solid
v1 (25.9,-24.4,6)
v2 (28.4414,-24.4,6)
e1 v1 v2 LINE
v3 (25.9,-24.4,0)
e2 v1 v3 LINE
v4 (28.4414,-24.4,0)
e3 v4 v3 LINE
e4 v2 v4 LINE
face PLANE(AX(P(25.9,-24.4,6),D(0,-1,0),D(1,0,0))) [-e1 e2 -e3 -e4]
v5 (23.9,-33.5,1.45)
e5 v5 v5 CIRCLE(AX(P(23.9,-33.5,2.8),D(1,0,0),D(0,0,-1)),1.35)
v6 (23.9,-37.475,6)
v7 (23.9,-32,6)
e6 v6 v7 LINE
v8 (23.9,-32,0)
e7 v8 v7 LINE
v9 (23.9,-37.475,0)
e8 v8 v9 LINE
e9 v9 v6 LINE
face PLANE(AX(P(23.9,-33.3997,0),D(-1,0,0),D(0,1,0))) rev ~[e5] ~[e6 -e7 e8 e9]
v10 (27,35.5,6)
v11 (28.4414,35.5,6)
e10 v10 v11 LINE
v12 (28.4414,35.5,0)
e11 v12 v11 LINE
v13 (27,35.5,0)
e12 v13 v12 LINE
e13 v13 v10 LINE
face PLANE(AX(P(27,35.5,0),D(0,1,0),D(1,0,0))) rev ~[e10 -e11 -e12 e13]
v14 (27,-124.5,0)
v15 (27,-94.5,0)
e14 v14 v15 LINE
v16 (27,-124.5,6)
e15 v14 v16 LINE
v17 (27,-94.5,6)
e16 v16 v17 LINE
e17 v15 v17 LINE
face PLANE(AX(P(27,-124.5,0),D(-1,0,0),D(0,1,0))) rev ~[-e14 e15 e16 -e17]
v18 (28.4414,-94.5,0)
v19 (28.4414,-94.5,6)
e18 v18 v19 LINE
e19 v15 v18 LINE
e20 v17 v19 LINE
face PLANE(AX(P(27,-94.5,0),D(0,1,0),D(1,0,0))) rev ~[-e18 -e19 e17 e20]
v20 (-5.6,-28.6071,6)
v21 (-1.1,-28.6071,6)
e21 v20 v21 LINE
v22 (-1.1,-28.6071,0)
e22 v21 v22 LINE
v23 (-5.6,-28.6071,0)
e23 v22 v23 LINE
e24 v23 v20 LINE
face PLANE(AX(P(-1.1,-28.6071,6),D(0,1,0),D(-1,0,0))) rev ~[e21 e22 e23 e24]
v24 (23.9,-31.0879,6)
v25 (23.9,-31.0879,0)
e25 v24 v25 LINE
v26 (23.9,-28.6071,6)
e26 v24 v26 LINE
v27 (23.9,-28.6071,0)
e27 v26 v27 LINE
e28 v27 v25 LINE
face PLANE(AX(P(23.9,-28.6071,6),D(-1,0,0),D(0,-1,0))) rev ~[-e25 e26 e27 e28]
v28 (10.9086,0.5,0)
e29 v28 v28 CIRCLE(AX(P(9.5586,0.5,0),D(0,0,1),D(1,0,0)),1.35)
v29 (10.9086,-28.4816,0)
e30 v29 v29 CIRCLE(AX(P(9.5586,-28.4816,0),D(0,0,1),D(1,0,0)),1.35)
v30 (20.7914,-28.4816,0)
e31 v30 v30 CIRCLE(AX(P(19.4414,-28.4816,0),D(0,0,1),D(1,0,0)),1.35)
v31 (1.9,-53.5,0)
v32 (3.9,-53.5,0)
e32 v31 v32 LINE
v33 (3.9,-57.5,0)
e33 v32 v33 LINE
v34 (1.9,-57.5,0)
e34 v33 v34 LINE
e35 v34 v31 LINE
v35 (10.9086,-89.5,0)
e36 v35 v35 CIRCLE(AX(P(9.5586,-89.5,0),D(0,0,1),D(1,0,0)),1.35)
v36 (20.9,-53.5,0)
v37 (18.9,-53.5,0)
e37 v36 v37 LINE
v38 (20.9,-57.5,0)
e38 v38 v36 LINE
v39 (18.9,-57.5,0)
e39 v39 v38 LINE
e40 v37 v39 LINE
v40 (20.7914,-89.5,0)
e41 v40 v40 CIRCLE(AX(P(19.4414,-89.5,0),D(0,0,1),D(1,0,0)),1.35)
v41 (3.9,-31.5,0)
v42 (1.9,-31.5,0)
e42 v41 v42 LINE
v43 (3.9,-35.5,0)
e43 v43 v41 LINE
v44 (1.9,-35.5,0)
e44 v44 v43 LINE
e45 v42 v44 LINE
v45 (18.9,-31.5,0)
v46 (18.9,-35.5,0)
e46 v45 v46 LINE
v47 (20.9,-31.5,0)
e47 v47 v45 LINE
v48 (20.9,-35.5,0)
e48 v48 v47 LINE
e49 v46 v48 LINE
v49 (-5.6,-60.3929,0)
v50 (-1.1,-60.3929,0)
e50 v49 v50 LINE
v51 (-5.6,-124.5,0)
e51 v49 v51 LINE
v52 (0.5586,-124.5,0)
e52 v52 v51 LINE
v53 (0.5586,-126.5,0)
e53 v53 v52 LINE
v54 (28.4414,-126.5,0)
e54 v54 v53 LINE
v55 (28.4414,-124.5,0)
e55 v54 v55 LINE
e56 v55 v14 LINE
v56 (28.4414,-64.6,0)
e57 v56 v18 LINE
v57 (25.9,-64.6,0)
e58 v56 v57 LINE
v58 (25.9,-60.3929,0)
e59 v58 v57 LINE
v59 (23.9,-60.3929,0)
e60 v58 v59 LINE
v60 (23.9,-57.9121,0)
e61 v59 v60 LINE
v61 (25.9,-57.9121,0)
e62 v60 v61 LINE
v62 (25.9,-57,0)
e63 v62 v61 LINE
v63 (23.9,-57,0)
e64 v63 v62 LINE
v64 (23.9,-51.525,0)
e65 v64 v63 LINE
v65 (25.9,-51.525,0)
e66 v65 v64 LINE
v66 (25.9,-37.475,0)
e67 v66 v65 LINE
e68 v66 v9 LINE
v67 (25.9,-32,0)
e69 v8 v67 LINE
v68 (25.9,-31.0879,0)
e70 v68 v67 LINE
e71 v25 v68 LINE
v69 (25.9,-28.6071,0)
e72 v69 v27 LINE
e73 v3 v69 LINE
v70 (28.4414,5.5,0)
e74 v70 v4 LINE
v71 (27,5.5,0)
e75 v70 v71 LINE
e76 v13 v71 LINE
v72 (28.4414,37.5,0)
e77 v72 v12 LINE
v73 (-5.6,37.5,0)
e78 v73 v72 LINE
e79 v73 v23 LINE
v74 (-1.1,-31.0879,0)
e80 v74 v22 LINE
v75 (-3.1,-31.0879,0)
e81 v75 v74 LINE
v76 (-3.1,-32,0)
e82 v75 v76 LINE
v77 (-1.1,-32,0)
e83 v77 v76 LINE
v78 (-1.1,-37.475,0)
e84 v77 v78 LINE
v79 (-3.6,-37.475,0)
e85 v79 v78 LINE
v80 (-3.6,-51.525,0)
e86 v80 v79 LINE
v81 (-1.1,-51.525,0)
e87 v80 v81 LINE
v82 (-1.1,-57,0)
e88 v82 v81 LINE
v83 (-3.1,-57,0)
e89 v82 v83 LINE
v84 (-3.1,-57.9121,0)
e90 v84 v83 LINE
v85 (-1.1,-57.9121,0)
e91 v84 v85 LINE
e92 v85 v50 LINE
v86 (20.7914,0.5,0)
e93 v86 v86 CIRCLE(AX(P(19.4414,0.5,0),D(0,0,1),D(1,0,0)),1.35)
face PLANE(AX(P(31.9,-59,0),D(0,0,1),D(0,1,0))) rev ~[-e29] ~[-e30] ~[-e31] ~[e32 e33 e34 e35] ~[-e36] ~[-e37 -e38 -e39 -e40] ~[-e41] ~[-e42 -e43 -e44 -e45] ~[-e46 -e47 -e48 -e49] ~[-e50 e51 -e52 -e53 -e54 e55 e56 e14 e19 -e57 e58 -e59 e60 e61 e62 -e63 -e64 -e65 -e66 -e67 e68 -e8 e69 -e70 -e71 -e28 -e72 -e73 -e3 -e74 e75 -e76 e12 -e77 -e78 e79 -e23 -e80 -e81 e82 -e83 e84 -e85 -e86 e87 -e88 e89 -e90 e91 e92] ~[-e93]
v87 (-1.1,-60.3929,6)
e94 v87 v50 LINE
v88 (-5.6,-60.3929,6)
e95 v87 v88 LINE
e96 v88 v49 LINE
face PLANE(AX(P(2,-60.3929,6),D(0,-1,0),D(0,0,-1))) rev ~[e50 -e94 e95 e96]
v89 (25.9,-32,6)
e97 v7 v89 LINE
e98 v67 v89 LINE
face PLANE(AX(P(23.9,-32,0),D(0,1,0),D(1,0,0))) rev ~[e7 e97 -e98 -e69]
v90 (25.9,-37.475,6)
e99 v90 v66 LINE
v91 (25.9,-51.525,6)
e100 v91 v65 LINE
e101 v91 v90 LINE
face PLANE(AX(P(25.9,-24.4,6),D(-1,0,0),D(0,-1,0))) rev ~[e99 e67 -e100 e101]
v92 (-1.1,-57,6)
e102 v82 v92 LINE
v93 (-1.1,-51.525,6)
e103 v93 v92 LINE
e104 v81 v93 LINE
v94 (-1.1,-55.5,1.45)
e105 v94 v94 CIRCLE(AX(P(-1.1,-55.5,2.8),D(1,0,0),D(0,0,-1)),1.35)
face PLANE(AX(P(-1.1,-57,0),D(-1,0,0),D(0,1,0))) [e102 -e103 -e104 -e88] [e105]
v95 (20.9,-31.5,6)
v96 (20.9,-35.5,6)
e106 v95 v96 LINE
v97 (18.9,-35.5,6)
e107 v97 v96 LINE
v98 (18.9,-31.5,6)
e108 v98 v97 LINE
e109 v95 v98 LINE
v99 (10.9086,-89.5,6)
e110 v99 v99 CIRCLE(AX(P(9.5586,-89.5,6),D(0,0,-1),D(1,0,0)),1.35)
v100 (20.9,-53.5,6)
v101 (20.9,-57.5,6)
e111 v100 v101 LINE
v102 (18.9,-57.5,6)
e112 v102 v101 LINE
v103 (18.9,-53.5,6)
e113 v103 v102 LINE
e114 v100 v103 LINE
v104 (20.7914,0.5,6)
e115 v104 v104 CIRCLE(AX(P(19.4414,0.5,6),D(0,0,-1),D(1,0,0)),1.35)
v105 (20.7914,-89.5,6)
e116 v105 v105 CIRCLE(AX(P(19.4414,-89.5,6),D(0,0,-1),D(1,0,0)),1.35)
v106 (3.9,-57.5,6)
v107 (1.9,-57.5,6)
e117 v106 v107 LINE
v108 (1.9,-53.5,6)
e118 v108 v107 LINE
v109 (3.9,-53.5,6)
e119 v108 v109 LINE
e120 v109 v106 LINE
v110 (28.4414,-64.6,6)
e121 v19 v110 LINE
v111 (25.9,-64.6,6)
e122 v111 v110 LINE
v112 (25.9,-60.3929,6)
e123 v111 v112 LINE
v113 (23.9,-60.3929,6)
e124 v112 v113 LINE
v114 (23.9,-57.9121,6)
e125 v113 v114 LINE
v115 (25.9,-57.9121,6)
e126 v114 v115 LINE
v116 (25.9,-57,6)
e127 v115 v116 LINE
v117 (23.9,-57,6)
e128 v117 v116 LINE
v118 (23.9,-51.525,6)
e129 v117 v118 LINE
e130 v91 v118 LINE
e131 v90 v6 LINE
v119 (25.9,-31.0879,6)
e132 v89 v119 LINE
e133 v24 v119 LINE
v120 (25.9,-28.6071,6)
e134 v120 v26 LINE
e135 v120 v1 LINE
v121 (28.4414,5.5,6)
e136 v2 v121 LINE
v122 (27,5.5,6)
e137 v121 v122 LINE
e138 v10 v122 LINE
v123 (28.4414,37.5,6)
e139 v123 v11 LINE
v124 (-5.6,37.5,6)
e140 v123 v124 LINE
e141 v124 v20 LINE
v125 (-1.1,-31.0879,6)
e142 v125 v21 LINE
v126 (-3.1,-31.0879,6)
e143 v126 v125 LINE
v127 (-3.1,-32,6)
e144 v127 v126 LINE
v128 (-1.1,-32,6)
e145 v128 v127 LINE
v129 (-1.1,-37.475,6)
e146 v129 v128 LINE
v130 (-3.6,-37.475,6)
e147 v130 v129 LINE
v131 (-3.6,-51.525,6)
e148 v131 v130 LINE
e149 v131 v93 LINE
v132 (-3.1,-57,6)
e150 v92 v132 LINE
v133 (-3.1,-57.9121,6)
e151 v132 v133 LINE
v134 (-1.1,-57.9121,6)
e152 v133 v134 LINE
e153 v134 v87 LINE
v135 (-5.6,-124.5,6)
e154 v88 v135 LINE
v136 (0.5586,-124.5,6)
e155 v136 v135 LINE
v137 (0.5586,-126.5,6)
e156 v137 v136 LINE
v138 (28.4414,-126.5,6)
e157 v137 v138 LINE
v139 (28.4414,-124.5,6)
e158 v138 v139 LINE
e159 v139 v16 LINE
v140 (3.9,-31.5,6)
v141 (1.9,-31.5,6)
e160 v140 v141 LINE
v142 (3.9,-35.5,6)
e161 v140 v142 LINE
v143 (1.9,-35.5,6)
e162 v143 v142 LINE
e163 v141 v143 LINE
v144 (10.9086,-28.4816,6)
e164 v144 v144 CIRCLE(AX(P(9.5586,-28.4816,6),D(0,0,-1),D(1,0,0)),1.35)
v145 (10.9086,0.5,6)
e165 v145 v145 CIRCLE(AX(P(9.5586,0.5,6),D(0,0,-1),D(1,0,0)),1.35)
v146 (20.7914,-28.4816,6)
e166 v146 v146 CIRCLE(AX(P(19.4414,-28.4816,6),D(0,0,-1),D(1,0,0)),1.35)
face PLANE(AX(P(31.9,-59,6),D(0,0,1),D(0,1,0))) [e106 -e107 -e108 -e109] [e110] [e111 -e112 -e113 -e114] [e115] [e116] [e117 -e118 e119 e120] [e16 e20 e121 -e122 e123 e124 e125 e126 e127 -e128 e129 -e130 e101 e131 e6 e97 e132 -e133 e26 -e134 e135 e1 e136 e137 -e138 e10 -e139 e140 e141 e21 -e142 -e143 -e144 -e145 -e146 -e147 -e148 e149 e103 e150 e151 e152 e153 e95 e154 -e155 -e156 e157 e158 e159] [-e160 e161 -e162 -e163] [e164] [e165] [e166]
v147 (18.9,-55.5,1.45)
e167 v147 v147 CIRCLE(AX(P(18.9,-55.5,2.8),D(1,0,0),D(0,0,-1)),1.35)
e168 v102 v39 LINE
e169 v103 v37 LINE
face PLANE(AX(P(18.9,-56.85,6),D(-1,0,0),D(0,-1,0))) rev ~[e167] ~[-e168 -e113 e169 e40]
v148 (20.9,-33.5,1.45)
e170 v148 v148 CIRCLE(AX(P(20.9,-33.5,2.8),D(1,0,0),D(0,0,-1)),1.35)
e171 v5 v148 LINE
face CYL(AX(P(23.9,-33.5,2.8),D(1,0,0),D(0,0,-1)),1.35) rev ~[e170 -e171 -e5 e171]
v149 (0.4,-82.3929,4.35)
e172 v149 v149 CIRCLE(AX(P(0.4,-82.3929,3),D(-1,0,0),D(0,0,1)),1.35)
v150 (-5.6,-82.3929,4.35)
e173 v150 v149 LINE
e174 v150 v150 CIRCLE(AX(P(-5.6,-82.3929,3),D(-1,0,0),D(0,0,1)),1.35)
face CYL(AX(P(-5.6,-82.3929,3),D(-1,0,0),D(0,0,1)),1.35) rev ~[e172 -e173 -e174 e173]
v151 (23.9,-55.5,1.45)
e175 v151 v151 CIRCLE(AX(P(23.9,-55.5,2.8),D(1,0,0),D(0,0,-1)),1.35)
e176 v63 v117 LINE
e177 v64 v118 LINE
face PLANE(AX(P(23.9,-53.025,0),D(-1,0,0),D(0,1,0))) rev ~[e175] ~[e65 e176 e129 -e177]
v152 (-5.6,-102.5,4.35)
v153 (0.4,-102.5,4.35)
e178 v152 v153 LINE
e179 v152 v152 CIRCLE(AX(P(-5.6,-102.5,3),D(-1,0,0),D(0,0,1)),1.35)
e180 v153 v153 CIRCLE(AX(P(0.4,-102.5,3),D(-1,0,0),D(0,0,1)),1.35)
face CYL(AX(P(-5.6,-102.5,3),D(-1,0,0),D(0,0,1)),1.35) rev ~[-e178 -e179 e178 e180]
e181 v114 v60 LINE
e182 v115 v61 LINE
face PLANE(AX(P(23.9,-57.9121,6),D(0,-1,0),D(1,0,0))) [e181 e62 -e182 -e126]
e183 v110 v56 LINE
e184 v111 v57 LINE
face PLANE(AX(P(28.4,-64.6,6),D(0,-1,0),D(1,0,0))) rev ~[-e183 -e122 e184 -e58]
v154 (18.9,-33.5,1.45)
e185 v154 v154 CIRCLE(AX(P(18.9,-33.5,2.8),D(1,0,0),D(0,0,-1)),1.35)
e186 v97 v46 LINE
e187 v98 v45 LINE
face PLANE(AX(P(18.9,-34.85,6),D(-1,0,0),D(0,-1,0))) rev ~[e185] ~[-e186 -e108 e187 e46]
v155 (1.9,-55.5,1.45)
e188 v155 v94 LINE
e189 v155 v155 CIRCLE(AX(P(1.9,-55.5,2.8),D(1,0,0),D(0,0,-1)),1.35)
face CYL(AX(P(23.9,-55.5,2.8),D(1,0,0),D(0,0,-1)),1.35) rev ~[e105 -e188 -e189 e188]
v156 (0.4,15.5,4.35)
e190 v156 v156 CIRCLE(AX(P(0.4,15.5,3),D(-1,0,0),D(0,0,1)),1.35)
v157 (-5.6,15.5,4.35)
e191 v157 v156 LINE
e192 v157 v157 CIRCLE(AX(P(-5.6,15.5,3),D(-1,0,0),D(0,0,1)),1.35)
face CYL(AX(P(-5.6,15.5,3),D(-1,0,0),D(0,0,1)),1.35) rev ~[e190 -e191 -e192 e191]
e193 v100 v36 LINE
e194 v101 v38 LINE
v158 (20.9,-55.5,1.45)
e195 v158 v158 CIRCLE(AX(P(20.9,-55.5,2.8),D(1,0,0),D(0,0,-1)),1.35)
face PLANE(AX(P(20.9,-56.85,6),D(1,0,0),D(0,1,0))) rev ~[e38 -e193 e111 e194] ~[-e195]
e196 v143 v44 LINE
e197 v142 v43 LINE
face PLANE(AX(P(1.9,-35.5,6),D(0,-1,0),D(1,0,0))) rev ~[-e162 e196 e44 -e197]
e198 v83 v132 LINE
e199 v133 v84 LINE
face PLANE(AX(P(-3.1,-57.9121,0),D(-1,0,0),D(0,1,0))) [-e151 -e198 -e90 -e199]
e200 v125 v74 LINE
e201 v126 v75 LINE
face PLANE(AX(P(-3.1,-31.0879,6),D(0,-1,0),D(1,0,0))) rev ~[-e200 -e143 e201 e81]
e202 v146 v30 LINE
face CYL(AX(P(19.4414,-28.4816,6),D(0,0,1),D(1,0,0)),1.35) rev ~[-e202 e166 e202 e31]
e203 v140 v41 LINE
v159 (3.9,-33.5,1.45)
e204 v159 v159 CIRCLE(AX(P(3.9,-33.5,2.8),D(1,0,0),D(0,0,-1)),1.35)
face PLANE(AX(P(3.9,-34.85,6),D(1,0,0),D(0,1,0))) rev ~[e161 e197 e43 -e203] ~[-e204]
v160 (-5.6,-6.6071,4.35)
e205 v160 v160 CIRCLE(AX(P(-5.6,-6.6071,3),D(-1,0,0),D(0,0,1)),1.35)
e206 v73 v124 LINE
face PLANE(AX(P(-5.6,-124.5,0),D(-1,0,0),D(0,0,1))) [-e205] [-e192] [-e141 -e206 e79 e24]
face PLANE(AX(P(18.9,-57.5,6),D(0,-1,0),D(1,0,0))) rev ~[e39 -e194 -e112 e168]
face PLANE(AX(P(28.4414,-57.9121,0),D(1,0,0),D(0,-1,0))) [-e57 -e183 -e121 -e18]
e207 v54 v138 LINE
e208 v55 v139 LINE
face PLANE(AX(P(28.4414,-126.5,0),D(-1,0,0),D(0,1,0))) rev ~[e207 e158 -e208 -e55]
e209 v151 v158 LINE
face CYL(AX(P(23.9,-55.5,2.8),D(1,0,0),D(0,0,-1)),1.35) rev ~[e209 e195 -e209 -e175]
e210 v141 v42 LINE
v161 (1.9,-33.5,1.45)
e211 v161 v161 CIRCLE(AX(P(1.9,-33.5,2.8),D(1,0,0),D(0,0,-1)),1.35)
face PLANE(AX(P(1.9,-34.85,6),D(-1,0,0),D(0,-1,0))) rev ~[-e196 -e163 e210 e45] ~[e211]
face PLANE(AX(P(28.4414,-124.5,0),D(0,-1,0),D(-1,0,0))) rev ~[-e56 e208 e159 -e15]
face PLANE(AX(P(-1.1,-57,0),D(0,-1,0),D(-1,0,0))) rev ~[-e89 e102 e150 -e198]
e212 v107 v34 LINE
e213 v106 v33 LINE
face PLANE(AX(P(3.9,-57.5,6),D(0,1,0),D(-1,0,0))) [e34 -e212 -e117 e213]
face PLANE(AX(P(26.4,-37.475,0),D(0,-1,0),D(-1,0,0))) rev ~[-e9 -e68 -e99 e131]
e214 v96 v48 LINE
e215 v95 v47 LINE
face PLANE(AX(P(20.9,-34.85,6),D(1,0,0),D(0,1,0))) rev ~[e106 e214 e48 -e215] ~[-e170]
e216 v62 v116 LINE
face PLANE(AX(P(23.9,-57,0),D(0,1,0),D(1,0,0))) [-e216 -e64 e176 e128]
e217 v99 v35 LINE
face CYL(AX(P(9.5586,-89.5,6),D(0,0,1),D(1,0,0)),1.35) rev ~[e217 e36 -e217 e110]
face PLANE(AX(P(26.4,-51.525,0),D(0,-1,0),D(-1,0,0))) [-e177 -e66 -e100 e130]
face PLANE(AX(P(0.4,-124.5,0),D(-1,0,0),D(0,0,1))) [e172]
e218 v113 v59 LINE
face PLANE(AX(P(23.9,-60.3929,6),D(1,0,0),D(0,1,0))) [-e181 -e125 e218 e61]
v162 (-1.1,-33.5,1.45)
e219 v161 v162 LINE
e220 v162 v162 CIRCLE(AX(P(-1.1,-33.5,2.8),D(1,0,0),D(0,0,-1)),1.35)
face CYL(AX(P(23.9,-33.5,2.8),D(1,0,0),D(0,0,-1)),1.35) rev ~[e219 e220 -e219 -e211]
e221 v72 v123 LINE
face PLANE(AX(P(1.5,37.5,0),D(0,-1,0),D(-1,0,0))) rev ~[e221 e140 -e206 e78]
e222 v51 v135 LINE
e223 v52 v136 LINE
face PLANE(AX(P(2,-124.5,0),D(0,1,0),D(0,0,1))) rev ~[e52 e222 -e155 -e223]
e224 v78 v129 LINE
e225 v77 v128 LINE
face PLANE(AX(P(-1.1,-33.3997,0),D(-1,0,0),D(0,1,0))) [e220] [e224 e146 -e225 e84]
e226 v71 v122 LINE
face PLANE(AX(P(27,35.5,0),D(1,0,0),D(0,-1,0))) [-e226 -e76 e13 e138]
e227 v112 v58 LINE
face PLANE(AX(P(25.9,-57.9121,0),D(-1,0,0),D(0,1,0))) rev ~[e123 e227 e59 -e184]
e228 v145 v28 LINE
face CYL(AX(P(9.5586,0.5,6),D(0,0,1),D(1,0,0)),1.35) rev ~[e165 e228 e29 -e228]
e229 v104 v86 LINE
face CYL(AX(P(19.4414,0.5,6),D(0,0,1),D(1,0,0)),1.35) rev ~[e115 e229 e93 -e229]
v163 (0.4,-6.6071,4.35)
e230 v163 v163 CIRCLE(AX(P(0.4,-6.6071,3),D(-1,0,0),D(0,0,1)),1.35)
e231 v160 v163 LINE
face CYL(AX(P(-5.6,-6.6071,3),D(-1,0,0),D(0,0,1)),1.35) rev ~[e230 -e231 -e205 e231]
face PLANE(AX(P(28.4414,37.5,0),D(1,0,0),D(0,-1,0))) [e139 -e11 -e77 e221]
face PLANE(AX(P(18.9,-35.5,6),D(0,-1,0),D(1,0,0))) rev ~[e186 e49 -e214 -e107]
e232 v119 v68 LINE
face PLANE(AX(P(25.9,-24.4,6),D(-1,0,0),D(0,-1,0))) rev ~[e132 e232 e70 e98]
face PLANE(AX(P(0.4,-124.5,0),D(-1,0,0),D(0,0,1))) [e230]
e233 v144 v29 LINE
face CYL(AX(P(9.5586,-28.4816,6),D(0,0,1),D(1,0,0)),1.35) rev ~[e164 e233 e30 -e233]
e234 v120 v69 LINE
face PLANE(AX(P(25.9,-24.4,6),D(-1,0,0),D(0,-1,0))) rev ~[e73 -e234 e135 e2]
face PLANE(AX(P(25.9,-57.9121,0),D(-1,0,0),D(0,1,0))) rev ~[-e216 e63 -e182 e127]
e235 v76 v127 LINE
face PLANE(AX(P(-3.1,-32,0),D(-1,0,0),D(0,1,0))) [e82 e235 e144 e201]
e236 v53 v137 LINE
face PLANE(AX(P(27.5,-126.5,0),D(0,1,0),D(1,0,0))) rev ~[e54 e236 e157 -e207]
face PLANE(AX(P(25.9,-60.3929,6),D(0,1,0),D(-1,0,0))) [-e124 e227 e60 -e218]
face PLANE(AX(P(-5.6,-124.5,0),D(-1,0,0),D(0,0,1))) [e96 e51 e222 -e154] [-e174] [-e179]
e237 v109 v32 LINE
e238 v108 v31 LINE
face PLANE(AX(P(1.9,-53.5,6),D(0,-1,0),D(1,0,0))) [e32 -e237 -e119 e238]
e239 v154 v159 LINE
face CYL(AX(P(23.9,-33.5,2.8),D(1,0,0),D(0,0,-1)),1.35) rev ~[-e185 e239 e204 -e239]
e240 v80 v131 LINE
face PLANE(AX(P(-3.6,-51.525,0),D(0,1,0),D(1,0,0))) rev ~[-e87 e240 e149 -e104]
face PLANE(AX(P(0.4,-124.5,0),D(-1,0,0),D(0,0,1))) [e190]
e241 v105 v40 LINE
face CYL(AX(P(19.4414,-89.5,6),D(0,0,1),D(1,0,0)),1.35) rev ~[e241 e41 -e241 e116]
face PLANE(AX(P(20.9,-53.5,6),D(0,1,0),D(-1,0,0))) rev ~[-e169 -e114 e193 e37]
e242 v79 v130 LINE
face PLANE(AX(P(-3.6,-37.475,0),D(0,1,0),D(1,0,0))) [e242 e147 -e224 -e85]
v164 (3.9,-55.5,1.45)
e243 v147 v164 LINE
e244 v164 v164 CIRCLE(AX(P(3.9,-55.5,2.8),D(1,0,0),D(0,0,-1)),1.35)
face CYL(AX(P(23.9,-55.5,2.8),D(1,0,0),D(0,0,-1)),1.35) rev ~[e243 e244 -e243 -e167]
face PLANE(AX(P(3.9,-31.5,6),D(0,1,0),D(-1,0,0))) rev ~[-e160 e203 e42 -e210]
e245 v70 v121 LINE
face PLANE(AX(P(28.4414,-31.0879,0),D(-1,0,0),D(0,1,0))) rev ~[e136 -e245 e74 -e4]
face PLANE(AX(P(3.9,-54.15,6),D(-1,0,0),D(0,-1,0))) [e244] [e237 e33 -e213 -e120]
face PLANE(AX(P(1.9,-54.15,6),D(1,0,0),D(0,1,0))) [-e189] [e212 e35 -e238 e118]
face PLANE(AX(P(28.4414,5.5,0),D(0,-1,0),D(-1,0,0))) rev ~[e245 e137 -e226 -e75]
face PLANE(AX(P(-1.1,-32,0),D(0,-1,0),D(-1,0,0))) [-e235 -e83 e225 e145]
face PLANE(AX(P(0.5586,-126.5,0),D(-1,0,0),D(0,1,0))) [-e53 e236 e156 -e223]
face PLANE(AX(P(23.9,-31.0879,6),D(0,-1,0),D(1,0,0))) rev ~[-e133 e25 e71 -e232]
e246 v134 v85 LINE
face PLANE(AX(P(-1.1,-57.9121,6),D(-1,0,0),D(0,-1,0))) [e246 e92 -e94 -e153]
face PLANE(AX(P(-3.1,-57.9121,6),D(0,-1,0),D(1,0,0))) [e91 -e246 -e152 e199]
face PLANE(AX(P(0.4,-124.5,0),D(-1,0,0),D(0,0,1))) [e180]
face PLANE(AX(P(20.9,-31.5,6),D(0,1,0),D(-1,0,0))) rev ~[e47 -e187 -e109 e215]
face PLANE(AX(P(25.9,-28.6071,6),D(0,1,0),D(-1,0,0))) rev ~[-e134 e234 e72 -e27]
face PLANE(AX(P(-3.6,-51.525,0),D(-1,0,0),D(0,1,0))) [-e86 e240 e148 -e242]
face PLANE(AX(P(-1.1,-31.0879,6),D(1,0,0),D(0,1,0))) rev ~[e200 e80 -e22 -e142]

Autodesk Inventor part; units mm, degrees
ref_plane "YZ Plane" through (0, 0, 0) normal (1, 0, 0) x (0, 1, 0)
ref_plane "XZ Plane" through (0, 0, 0) normal (0, 1, 0) x (-1, 0, 0)
ref_plane "작업 평면1" through (31.9, -59, 0) normal (0, 0, 1) x (0, 1, 0)
ref_plane "작업 평면2" through (31.9, -59, 0) normal (0, 0, 1) x (0, 1, 0)
sketch "스케치2" plane through (31.9, -59, 0) normal (0, 0, 1) x (0, 1, 0)
  line L0 (27, 33) -> (27, 8) projected
  line L1 (25.6003, 33) -> (27, 33) projected
  line L2 (25.3997, 33) -> (25.6003, 33) projected
  line L3 (21.525, 33) -> (25.3997, 33) projected
  line L4 (21.525, 35.5) -> (21.525, 33) projected
  line L5 (7.475, 35.5) -> (21.525, 35.5) projected
  line L6 (7.475, 35.5) -> (7.475, 33) projected
  line L7 (3.6003, 33) -> (7.475, 33) projected
  line L8 (3.3997, 33) -> (3.6003, 33) projected
  line L9 (2, 33) -> (3.3997, 33) projected
  line L10 (2, 33) -> (2, 8) projected
  line L11 (2, 8) -> (3.3997, 8) projected
  line L12 (3.3997, 8) -> (3.6003, 8) projected
  line L13 (3.6003, 8) -> (7.475, 8) projected
  line L14 (7.475, 5.5) -> (7.475, 8) projected
  line L15 (7.475, 5.5) -> (21.525, 5.5) projected
  line L16 (21.525, 5.5) -> (21.525, 8) projected
  line L17 (21.525, 8) -> (25.3997, 8) projected
  line L18 (25.3997, 8) -> (25.6003, 8) projected
  line L19 (25.6003, 8) -> (27, 8) projected
  line L20 (96.5, 31.3414) -> (94.5, 31.3414) projected
  line L21 (94.5, 31.3414) -> (94.5, 29.9) projected
  line L22 (94.5, 29.9) -> (64.5, 29.9) projected
  line L23 (64.5, 29.9) -> (64.5, 31.3414) projected
  line L24 (64.5, 31.3414) -> (62.5, 31.3414) projected
  line L25 (62.5, 31.3414) -> (62.5, 25.05) projected
  line L26 (62.5, 9.75) -> (62.5, 25.05) projected
  line L27 (62.5, 9.75) -> (62.5, 3.4586) projected
  line L28 (64.5, 3.4586) -> (62.5, 3.4586) projected
  line L29 (64.5, 3.4586) -> (64.5, 4.9) projected
  line L30 (94.5, 4.9) -> (64.5, 4.9) projected
  line L31 (94.5, 4.9) -> (94.5, 3.4586) projected
  line L32 (96.5, 3.4586) -> (94.5, 3.4586) projected
  line L33 (96.5, 3.4586) -> (96.5, 4.4) projected
  line L34 (96.5, 4.4) -> (98, 4.4) projected
  line L35 (98, 30.4) -> (98, 4.4) projected
  line L36 (98, 30.4) -> (96.5, 30.4) projected
  line L37 (96.5, 30.4) -> (96.5, 31.3414) projected
  line L38 (-67.5, 3.4586) -> (-65.5, 3.4586) projected
  line L39 (-65.5, 3.4586) -> (-65.5, 4.9) projected
  line L40 (-65.5, 4.9) -> (-35.5, 4.9) projected
  line L41 (-35.5, 4.9) -> (-35.5, 3.4586) projected
  line L42 (-35.5, 3.4586) -> (-33.5, 3.4586) projected
  line L43 (-33.5, 3.4586) -> (-33.5, 9.75) projected
  line L44 (-33.5, 25.05) -> (-33.5, 9.75) projected
  line L45 (-33.5, 25.05) -> (-33.5, 31.3414) projected
  line L46 (-35.5, 31.3414) -> (-33.5, 31.3414) projected
  line L47 (-35.5, 31.3414) -> (-35.5, 29.9) projected
  line L48 (-65.5, 29.9) -> (-35.5, 29.9) projected
  line L49 (-65.5, 29.9) -> (-65.5, 31.3414) projected
  line L50 (-67.5, 31.3414) -> (-65.5, 31.3414) projected
  line L51 (-67.5, 31.3414) -> (-67.5, 30.4) projected
  line L52 (-67.5, 30.4) -> (-69, 30.4) projected
  line L53 (-69, 4.4) -> (-69, 30.4) projected
  line L54 (-69, 4.4) -> (-67.5, 4.4) projected
  line L55 (-67.5, 4.4) -> (-67.5, 3.4586) projected
  line L56 (27.9121, 35) -> (27.9121, 37.5) projected
  line L57 (1.0879, 37.5) -> (27.9121, 37.5) projected
  line L58 (1.0879, 37.5) -> (1.0879, 35) projected
  line L59 (1.0879, 35) -> (5.975, 35) projected
  line L60 (5.975, 33) -> (5.975, 35) projected
  line L61 (5.975, 33) -> (7.475, 33) projected
  line L62 (7.475, 33) -> (7.475, 35.5) projected
  line L63 (7.475, 35.5) -> (21.525, 35.5) projected
  line L64 (21.525, 33) -> (21.525, 35.5) projected
  line L65 (21.525, 33) -> (23.025, 33) projected
  line L66 (23.025, 33) -> (23.025, 35) projected
  line L67 (23.025, 35) -> (27.9121, 35) projected
  line L68 (27.9121, 3.5) -> (27.9121, 6) projected
  line L69 (23.025, 6) -> (27.9121, 6) projected
  line L70 (23.025, 8) -> (23.025, 6) projected
  line L71 (21.525, 8) -> (23.025, 8) projected
  line L72 (21.525, 8) -> (21.525, 5.5) projected
  line L73 (7.475, 5.5) -> (21.525, 5.5) projected
  line L74 (7.475, 8) -> (7.475, 5.5) projected
  line L75 (5.975, 8) -> (7.475, 8) projected
  line L76 (5.975, 8) -> (5.975, 6) projected
  line L77 (1.0879, 6) -> (5.975, 6) projected
  line L78 (1.0879, 6) -> (1.0879, 3.5) projected
  line L79 (1.0879, 3.5) -> (27.9121, 3.5) projected
  line L80 (27, 33) -> (27, 35)
  line L81 (2, 33) -> (2, 35)
  line L82 (2, 8) -> (2, 6)
  line L83 (27, 8) -> (27, 6)
  line L84 (-33.5, 3.4586) -> (-33.5, 31.3414)
  line L85 (-33.5, 31.3414) -> (1.0879, 31.3414)
  line L86 (1.0879, 31.3414) -> (1.0879, 3.4586)
  line L87 (1.0879, 3.4586) -> (-33.5, 3.4586)
  line L88 (1.0879, 31.3414) -> (2, 31.3414)
  line L89 (2, 31.3414) -> (2, 6)
  line L90 (2, 6) -> (1.0879, 6)
  line L91 (1.0879, 6) -> (1.0879, 31.3414)
  line L92 (62.5, 3.4586) -> (62.5, 31.3414)
  line L93 (62.5, 31.3414) -> (27.9121, 31.3414)
  line L94 (27.9121, 31.3414) -> (27.9121, 3.4586)
  line L95 (27.9121, 3.4586) -> (62.5, 3.4586)
  line L96 (27.9121, 35) -> (27.9121, 31.3414)
  line L97 (27.9121, 31.3414) -> (27.9121, 35)
  line L98 (27.9121, 35) -> (62.5, 35)
  line L99 (62.5, 35) -> (62.5, 31.3414)
  line L100 (62.5, 31.3414) -> (27.9121, 31.3414)
  line L101 (2, 31.3414) -> (2, 35)
  line L102 (2, 35) -> (-33.5, 35)
  line L103 (-33.5, 35) -> (-33.5, 31.3414)
  line L104 (-33.5, 31.3414) -> (2, 31.3414)
  point P0 (59, 31.9)
  point P1 (1.0879, 3.5)
  point P2 (27.9121, 3.5)
  point P3 (1.0879, 35)
extrude "돌출1" add sketch "스케치2" along normal blind 6 contours L80 L67 L96 L94 L69 L83 L0 | L0 L19 L18 L17 L16 L15 L14 L13 L12 L11 L10 L9 L8 L7 L6 L5 L4 L3 L2 L1 | L98 L99 L93 L96 | L94 L93 L25 L26 L27 L95 L68 | L24 L23 L22 L21 L20 L37 L36 L35 L34 L33 L32 L31 L30 L29 L28 L27 L26 L25 | L86 L87 L43 L44 L45 L85 L78 | L59 L81 L10 L88 L85 L103 L102 | L86 L88 L10 L82 L77 | L42 L41 L40 L39 L38 L55 L54 L53 L52 L51 L50 L49 L48 L47 L46 L45 L44 L43
sketch "스케치4" plane through (31.9, -59, 6) normal (0, 0, 1) x (1, 0, 0)
  line L0 (-6, 34.6) -> (-3.5, 34.6) projected
  line L1 (-6, -5.6) -> (-3.5, -5.6) projected
  line L2 (-37.5, -5.6) -> (-35, -5.6) projected
  line L3 (-3.5, 34.6) -> (-6, 34.6)
  line L4 (-6, 34.6) -> (-6, 27.9121)
  line L5 (-6, 27.9121) -> (-3.5, 27.9121)
  line L6 (-3.5, 27.9121) -> (-3.5, 34.6)
  line L7 (-3.5, -5.6) -> (-6, -5.6)
  line L8 (-6, -5.6) -> (-6, 1.0804)
  line L9 (-6, 1.0804) -> (-3.5, 1.0804)
  line L10 (-3.5, 1.0804) -> (-3.5, -5.6)
  line L11 (-3.4586, -35.5) -> (-3.4586, 1.0879) projected
  line L12 (-6, -5.6) -> (-3.4586, -5.6)
  line L13 (-3.4586, -5.6) -> (-3.4586, 34.6)
  line L14 (-3.4586, 34.6) -> (-6, 34.6)
  line L15 (-6, 34.6) -> (-6, -5.6)
  point P0 (-31.9, 59)
  point P1 (-6, 27.9121)
  point P2 (-6, 1.0804)
  point P3 (-3.5, -5.6)
  point P4 (-3.4586, 1.0879)
  point P5 (-3.5, 34.6)
extrude "돌출2" cut sketch "스케치4" against normal blind 6
sketch "스케치5" plane through (31.9, -59, 6) normal (0, 0, 1) x (1, 0, 0)
  line L0 (-8, 28.9421) -> (-6, 28.9421) projected
  line L1 (-6, 30.3929) -> (-3.5, 30.3929) projected
  line L2 (-6, -1.3929) -> (-3.5, -1.3929) projected
  line L3 (-6, 1.0879) -> (-3.5, 1.0879) projected
  line L4 (-35, 27.9121) -> (-37.5, 27.9121) projected
  line L5 (-37.5, 30.3929) -> (-35, 30.3929) projected
  line L6 (-37.5, 1.0879) -> (-35, 1.0879) projected
  line L7 (-37.5, -1.3929) -> (-35, -1.3929) projected
  line L8 (-3.5, 27.9121) -> (-6, 27.9121) projected
  line L9 (-35, 30.3929) -> (-35, 27.9121)
  line L10 (-35, 27.9121) -> (-33, 27.9121)
  line L11 (-33, 27.9121) -> (-33, 30.3929)
  line L12 (-33, 30.3929) -> (-35, 30.3929)
  line L13 (-35, 62.5) -> (-35, 27) projected
  line L14 (-6, 27.9121) -> (-6, 30.3929)
  line L15 (-6, 30.3929) -> (-8, 30.3929)
  line L16 (-8, 30.3929) -> (-8, 27.9121)
  line L17 (-8, 27.9121) -> (-6, 27.9121)
  line L18 (-6, 1.0879) -> (-6, -1.3929)
  line L19 (-6, -1.3929) -> (-8, -1.3929)
  line L20 (-8, -1.3929) -> (-8, 1.0879)
  line L21 (-8, 1.0879) -> (-6, 1.0879)
  line L22 (-35, -1.3929) -> (-35, 1.0879)
  line L23 (-35, 1.0879) -> (-33, 1.0879)
  line L24 (-33, 1.0879) -> (-33, -1.3929)
  line L25 (-33, -1.3929) -> (-35, -1.3929)
  point P0 (-31.9, 59)
  dimension "d4" = 2
  dimension "d5" = 2
extrude "돌출3" cut sketch "스케치5" against normal blind 6
sketch "스케치6" plane through (23.9, -37.475, 0) normal (1, 0, 0) x (0, 0, -1)
  circle A0 centre (-2.8, 3.975) radius 1.35 projected
  circle A1 centre (-2.8, -18.025) radius 1.35 projected
  point P0 (0, 37.475)
extrude "돌출4" cut sketch "스케치6" against normal up to surface (25 mm away)
sketch "스케치7" plane through (31.9, -59, 6) normal (0, 0, 1) x (1, 0, 0)
  line L0 (-8, 26.85) -> (-33, 26.85) projected
  line L1 (-8, 24.15) -> (-33, 24.15) projected
  line L2 (-8, 4.85) -> (-33, 4.85) projected
  line L3 (-8, 2.15) -> (-33, 2.15) projected
  line L4 (-33, 26.85) -> (-33, 24.15)
  line L5 (-33, 24.15) -> (-29, 24.15)
  line L6 (-29, 24.15) -> (-29, 26.85)
  line L7 (-29, 26.85) -> (-33, 26.85)
  line L8 (-33, 27) -> (-33, 21.525) projected
  line L9 (-33, 2.15) -> (-33, 4.85)
  line L10 (-33, 4.85) -> (-29, 4.85)
  line L11 (-29, 4.85) -> (-29, 2.15)
  line L12 (-29, 2.15) -> (-33, 2.15)
  line L13 (-8, 4.85) -> (-8, 2.15)
  line L14 (-8, 2.15) -> (-12, 2.15)
  line L15 (-12, 2.15) -> (-12, 4.85)
  line L16 (-12, 4.85) -> (-8, 4.85)
  line L17 (-8, 26.85) -> (-8, 24.15)
  line L18 (-8, 24.15) -> (-12, 24.15)
  line L19 (-12, 24.15) -> (-12, 26.85)
  line L20 (-12, 26.85) -> (-8, 26.85)
  line L21 (-13, 27.5) -> (-13, 23.5)
  line L22 (-13, 23.5) -> (-11, 23.5)
  line L23 (-11, 23.5) -> (-11, 27.5)
  line L24 (-11, 27.5) -> (-13, 27.5)
  line L25 (-13, 27.5) -> (-11, 23.5) construction
  line L26 (-13, 23.5) -> (-11, 27.5) construction
  line L27 (-30, 27.5) -> (-30, 23.5)
  line L28 (-30, 23.5) -> (-28, 23.5)
  line L29 (-28, 23.5) -> (-28, 27.5)
  line L30 (-28, 27.5) -> (-30, 27.5)
  line L31 (-30, 27.5) -> (-28, 23.5) construction
  line L32 (-30, 23.5) -> (-28, 27.5) construction
  line L33 (-11, 1.5) -> (-11, 5.5)
  line L34 (-11, 5.5) -> (-13, 5.5)
  line L35 (-13, 5.5) -> (-13, 1.5)
  line L36 (-13, 1.5) -> (-11, 1.5)
  line L37 (-11, 1.5) -> (-13, 5.5) construction
  line L38 (-11, 5.5) -> (-13, 1.5) construction
  line L39 (-30, 1.5) -> (-30, 5.5)
  line L40 (-30, 5.5) -> (-28, 5.5)
  line L41 (-28, 5.5) -> (-28, 1.5)
  line L42 (-28, 1.5) -> (-30, 1.5)
  line L43 (-30, 1.5) -> (-28, 5.5) construction
  line L44 (-30, 5.5) -> (-28, 1.5) construction
  point P0 (-31.9, 59)
  point P1 (-12, 25.5)
  point P2 (-29, 25.5)
  point P3 (-12, 3.5)
  point P4 (-29, 3.5)
  dimension "d10" = 4
  dimension "d11" = 4
  dimension "d12" = 4
  dimension "d13" = 4
  dimension "d14" = 4
  dimension "d15" = 2
  dimension "d16" = 4
  dimension "d17" = 2
  dimension "d18" = 4
extrude "돌출5" cut sketch "스케치7" against normal blind 10 contours L23 L1 L19 L0 | L0 L21 L24 L23 | L19 L1 L21 L0 | L23 L22 L21 L1 | L29 L1 L6 L0 | L0 L27 L30 L29 | L6 L1 L27 L0 | L29 L28 L27 L1 | L33 L3 L15 L2 | L2 L35 L34 L33 | L15 L3 L35 L2 | L33 L36 L35 L3 | L41 L3 L11 L2 | L2 L39 L40 L41 | L11 L3 L39 L2 | L41 L42 L39 L3
sketch "스케치8" plane through (1.5, -128, 0) normal (0, -1, 0) x (1, 0, 0)
  line L0 (0, 0) -> (26, 0) projected
  line L1 (26, 0) -> (26, 6) projected
  line L2 (0, 6) -> (26, 6) projected
  line L3 (0, 0) -> (0, 6) projected
  line L4 (-0.9414, 0) -> (0, 0) projected
  line L5 (0, 0) -> (0, 6) projected
  line L6 (-0.9414, 6) -> (0, 6) projected
  line L7 (-0.9414, 0) -> (-0.9414, 6) projected
  line L8 (26, 0) -> (26.9414, 0) projected
  line L9 (26.9414, 0) -> (26.9414, 6) projected
  line L10 (26, 6) -> (26.9414, 6) projected
  line L11 (26, 0) -> (26, 6) projected
  point P0 (-1.5, 0)
  point P1 (26, 0)
extrude "돌출6" cut sketch "스케치8" against normal blind 1.5
sketch "스케치9" plane through (1.5, 39, 0) normal (0, 1, 0) x (1, 0, 0)
  line L0 (26, 0) -> (0, 0) projected
  line L1 (0, 0) -> (0, -6) projected
  line L2 (26, -6) -> (0, -6) projected
  line L3 (26, 0) -> (26, -6) projected
  line L4 (26.9414, 0) -> (26, 0) projected
  line L5 (26, 0) -> (26, -6) projected
  line L6 (26.9414, -6) -> (26, -6) projected
  line L7 (26.9414, 0) -> (26.9414, -6) projected
  line L8 (0, 0) -> (0, -6) projected
  line L9 (0, 0) -> (-0.9414, 0) projected
  line L10 (-0.9414, 0) -> (-0.9414, -6) projected
  line L11 (0, -6) -> (-0.9414, -6) projected
  line L12 (0, 0) -> (0, -6) projected
  point P0 (-1.5, 0)
  point P1 (26, 0)
extrude "돌출7" cut sketch "스케치9" against normal blind 1.5
ref_plane "작업 평면3" through (-5.6, -126.5, -61.0993) normal (1, 0, 0) x (0, 1, 0)
sketch "스케치10" plane through (2, -124.5, 0) normal (-1, 0, 0) x (0, 0, 1)
  line L0 (0, 30) -> (0, 0)
  line L1 (0, 0) -> (6, 0)
  line L2 (6, 30) -> (6, 0)
  line L3 (0, 30) -> (6, 30)
  line L4 (0, 32) -> (0, 30)
  line L5 (0, 30) -> (6, 30)
  line L6 (6, 32) -> (6, 30)
  line L7 (0, 32) -> (6, 32)
  line L8 (6, 64.1071) -> (0, 64.1071)
  line L9 (0, 64.1071) -> (0, 32)
  line L10 (0, 32) -> (6, 32)
  line L11 (6, 64.1071) -> (6, 32)
  line L12 (0, 160) -> (0, 130)
  line L13 (0, 130) -> (6, 130)
  line L14 (6, 160) -> (6, 130)
  line L15 (0, 160) -> (6, 160)
  line L16 (0, 162) -> (0, 160)
  line L17 (0, 160) -> (6, 160)
  line L18 (6, 162) -> (6, 160)
  line L19 (0, 162) -> (6, 162)
  line L20 (0, 130) -> (0, 128)
  line L21 (0, 128) -> (6, 128)
  line L22 (6, 130) -> (6, 128)
  line L23 (0, 130) -> (6, 130)
  line L24 (0, 95.8929) -> (6, 95.8929)
  line L25 (6, 128) -> (6, 95.8929)
  line L26 (0, 128) -> (6, 128)
  line L27 (0, 128) -> (0, 95.8929)
  point P0 (0, 124.5)
  point P1 (0, 160)
  point P2 (0, 128)
  point P3 (0, 30)
extrude "돌출8" add sketch "스케치10" along normal up to surface (7.6 mm away)
sketch "스케치11" plane through (-5.6, -124.5, 0) normal (-1, 0, 0) x (0, 0, 1)
  circle A0 centre (3, 22) radius 1.35 projected
  circle A1 centre (3, 117.8929) radius 1.35 projected
  circle A2 centre (3, 42.1071) radius 1.35 projected
  circle A3 centre (3, 140) radius 1.35 projected
  line L0 (12.0993, -2) -> (12.0993, 162) projected
  line L1 (12.0993, 162) -> (-61.0993, 162) projected
  line L2 (-61.0993, 162) -> (-61.0993, -2) projected
  line L3 (-61.0993, -2) -> (12.0993, -2) projected
  line L4 (0, 88.15) -> (0, 71.85) projected
  arc A4 (-1, 70.85) -> (0, 71.85) centre (-1, 71.85) ccw projected
  line L5 (-1, 70.85) -> (-3, 70.85) projected
  arc A5 (-3, 70.85) -> (-5.35, 68.5) centre (-3, 68.5) ccw projected
  line L6 (-5.35, 68.5) -> (-5.35, 66.5) projected
  arc A6 (-6.35, 65.5) -> (-5.35, 66.5) centre (-6.35, 66.5) ccw projected
  line L7 (-6.35, 65.5) -> (-49.15, 65.5) projected
  arc A7 (-50.15, 66.5) -> (-49.15, 65.5) centre (-49.15, 66.5) ccw projected
  line L8 (-50.15, 66.5) -> (-50.15, 68.5) projected
  arc A8 (-50.15, 68.5) -> (-52.5, 70.85) centre (-52.5, 68.5) ccw projected
  line L9 (-52.5, 70.85) -> (-54, 70.85) projected
  arc A9 (-55.5, 72.35) -> (-54, 70.85) centre (-54, 72.35) ccw projected
  line L10 (-55.5, 72.35) -> (-55.5, 87.65) projected
  arc A10 (-54, 89.15) -> (-55.5, 87.65) centre (-54, 87.65) ccw projected
  line L11 (-54, 89.15) -> (-52.5, 89.15) projected
  arc A11 (-52.5, 89.15) -> (-50.15, 91.5) centre (-52.5, 91.5) ccw projected
  line L12 (-50.15, 91.5) -> (-50.15, 93.5) projected
  arc A12 (-49.15, 94.5) -> (-50.15, 93.5) centre (-49.15, 93.5) ccw projected
  line L13 (-49.15, 94.5) -> (-6.35, 94.5) projected
  arc A13 (-5.35, 93.5) -> (-6.35, 94.5) centre (-6.35, 93.5) ccw projected
  line L14 (-5.35, 93.5) -> (-5.35, 91.5) projected
  arc A14 (-5.35, 91.5) -> (-3, 89.15) centre (-3, 91.5) ccw projected
  line L15 (-3, 89.15) -> (-1, 89.15) projected
  arc A15 (0, 88.15) -> (-1, 89.15) centre (-1, 88.15) ccw projected
  circle A16 centre (-24.5, 97.3) radius 1.35 projected
  circle A17 centre (-2.5, 97.3) radius 1.35 projected
  circle A18 centre (2.8, 91) radius 1.35 projected
  circle A19 centre (-46.5, 97.3) radius 1.35 projected
  circle A20 centre (-24.5, 62.7) radius 1.35 projected
  circle A21 centre (2.8, 69) radius 1.35 projected
  circle A22 centre (-46.5, 62.7) radius 1.35 projected
  circle A23 centre (-2.5, 62.7) radius 1.35 projected
  point P0 (0, 124.5)
extrude "돌출9" cut sketch "스케치11" against normal blind 6 contours A0 | A1 | A2 | A3
sketch "스케치12" plane through (31.9, -59, 6) normal (0, 0, 1) x (1, 0, 0)
  line L0 (-31.3414, -27.5) -> (-3.4586, -27.5) projected
  line L1 (-31.3414, -33.5) -> (-3.4586, -33.5) projected
  line L2 (-3.4586, -33.5) -> (-31.3414, -33.5)
  line L3 (-31.3414, -33.5) -> (-31.3414, 0.0092)
  line L4 (-31.3414, 0.0092) -> (-3.4586, 0.0092)
  line L5 (-3.4586, 0.0092) -> (-3.4586, -33.5)
  line L6 (-31.3414, 0.0092) -> (-3.4586, 0.0092)
  line L7 (-3.4586, 0.0092) -> (-3.4586, 33.5184)
  line L8 (-3.4586, 33.5184) -> (-31.3414, 33.5184)
  line L9 (-31.3414, 33.5184) -> (-31.3414, 0.0092)
  line L10 (-3.4586, 33.5184) -> (-31.3414, 33.5184)
  line L11 (-31.3414, 33.5184) -> (-31.3414, 27.5184)
  line L12 (-31.3414, 27.5184) -> (-3.4586, 27.5184)
  line L13 (-3.4586, 27.5184) -> (-3.4586, 33.5184)
  line L14 (-31.3414, -33.5) -> (-22.3414, -33.5)
  line L15 (-3.4586, -33.5) -> (-12.4586, -33.5)
  line L16 (-12.4586, -33.5) -> (-22.3414, -33.5)
  line L17 (-22.3414, -33.5) -> (-22.3414, -30.5)
  line L18 (-22.3414, -30.5) -> (-12.4586, -30.5)
  line L19 (-12.4586, -30.5) -> (-12.4586, -33.5)
  line L20 (-3.4586, 30.5184) -> (-31.3414, 30.5184)
  line L21 (-12.4586, -30.5) -> (-22.3414, -30.5)
  line L22 (-22.3414, -30.5) -> (-22.3414, 30.5184)
  line L23 (-22.3414, 30.5184) -> (-12.4586, 30.5184)
  line L24 (-12.4586, 30.5184) -> (-12.4586, -30.5)
  circle A0 centre (-22.3414, -30.5) radius 1.35
  circle A1 centre (-12.4586, -30.5) radius 1.35
  circle A2 centre (-22.3414, 30.5184) radius 1.35
  circle A3 centre (-12.4586, 30.5184) radius 1.35
  point P0 (-31.9, 59)
  dimension "d29" = 33.5092
  dimension "d30" = 33.5092
  dimension "d31" = 6
  dimension "d32" = 9
  dimension "d33" = 9
  dimension "d34" = 3
  dimension "d35" = 2.7
  dimension "d36" = 2.7
  dimension "d37" = 2.7
  dimension "d38" = 2.7
extrude "돌출10" cut sketch "스케치12" against normal blind 6 contours A0 L18 L22 | L22 L17 A0 | A1 L19 L24 | L24 L18 A1 | L18 A0 L17 | L19 A1 L18 | A2 L20 L22 | L22 L20 A2 | A2 L20 | A3 L20 L24 | L24 L20 A3 | L20 A3
sketch "스케치13" plane through (31.9, -59, 6) normal (0, 0, 1) x (1, 0, 0)
  line L0 (-9.7174, 59) -> (-25.0826, 59)
  circle A0 centre (-12.4586, 59.5) radius 1.35 projected
  circle A1 centre (-22.3414, 59.5) radius 1.35 projected
  point P0 (-31.9, 59)
extrude "돌출11" cut sketch "스케치13" against normal blind 6
properties part number "_face_froward_2" material "PMMA 플라스틱"
